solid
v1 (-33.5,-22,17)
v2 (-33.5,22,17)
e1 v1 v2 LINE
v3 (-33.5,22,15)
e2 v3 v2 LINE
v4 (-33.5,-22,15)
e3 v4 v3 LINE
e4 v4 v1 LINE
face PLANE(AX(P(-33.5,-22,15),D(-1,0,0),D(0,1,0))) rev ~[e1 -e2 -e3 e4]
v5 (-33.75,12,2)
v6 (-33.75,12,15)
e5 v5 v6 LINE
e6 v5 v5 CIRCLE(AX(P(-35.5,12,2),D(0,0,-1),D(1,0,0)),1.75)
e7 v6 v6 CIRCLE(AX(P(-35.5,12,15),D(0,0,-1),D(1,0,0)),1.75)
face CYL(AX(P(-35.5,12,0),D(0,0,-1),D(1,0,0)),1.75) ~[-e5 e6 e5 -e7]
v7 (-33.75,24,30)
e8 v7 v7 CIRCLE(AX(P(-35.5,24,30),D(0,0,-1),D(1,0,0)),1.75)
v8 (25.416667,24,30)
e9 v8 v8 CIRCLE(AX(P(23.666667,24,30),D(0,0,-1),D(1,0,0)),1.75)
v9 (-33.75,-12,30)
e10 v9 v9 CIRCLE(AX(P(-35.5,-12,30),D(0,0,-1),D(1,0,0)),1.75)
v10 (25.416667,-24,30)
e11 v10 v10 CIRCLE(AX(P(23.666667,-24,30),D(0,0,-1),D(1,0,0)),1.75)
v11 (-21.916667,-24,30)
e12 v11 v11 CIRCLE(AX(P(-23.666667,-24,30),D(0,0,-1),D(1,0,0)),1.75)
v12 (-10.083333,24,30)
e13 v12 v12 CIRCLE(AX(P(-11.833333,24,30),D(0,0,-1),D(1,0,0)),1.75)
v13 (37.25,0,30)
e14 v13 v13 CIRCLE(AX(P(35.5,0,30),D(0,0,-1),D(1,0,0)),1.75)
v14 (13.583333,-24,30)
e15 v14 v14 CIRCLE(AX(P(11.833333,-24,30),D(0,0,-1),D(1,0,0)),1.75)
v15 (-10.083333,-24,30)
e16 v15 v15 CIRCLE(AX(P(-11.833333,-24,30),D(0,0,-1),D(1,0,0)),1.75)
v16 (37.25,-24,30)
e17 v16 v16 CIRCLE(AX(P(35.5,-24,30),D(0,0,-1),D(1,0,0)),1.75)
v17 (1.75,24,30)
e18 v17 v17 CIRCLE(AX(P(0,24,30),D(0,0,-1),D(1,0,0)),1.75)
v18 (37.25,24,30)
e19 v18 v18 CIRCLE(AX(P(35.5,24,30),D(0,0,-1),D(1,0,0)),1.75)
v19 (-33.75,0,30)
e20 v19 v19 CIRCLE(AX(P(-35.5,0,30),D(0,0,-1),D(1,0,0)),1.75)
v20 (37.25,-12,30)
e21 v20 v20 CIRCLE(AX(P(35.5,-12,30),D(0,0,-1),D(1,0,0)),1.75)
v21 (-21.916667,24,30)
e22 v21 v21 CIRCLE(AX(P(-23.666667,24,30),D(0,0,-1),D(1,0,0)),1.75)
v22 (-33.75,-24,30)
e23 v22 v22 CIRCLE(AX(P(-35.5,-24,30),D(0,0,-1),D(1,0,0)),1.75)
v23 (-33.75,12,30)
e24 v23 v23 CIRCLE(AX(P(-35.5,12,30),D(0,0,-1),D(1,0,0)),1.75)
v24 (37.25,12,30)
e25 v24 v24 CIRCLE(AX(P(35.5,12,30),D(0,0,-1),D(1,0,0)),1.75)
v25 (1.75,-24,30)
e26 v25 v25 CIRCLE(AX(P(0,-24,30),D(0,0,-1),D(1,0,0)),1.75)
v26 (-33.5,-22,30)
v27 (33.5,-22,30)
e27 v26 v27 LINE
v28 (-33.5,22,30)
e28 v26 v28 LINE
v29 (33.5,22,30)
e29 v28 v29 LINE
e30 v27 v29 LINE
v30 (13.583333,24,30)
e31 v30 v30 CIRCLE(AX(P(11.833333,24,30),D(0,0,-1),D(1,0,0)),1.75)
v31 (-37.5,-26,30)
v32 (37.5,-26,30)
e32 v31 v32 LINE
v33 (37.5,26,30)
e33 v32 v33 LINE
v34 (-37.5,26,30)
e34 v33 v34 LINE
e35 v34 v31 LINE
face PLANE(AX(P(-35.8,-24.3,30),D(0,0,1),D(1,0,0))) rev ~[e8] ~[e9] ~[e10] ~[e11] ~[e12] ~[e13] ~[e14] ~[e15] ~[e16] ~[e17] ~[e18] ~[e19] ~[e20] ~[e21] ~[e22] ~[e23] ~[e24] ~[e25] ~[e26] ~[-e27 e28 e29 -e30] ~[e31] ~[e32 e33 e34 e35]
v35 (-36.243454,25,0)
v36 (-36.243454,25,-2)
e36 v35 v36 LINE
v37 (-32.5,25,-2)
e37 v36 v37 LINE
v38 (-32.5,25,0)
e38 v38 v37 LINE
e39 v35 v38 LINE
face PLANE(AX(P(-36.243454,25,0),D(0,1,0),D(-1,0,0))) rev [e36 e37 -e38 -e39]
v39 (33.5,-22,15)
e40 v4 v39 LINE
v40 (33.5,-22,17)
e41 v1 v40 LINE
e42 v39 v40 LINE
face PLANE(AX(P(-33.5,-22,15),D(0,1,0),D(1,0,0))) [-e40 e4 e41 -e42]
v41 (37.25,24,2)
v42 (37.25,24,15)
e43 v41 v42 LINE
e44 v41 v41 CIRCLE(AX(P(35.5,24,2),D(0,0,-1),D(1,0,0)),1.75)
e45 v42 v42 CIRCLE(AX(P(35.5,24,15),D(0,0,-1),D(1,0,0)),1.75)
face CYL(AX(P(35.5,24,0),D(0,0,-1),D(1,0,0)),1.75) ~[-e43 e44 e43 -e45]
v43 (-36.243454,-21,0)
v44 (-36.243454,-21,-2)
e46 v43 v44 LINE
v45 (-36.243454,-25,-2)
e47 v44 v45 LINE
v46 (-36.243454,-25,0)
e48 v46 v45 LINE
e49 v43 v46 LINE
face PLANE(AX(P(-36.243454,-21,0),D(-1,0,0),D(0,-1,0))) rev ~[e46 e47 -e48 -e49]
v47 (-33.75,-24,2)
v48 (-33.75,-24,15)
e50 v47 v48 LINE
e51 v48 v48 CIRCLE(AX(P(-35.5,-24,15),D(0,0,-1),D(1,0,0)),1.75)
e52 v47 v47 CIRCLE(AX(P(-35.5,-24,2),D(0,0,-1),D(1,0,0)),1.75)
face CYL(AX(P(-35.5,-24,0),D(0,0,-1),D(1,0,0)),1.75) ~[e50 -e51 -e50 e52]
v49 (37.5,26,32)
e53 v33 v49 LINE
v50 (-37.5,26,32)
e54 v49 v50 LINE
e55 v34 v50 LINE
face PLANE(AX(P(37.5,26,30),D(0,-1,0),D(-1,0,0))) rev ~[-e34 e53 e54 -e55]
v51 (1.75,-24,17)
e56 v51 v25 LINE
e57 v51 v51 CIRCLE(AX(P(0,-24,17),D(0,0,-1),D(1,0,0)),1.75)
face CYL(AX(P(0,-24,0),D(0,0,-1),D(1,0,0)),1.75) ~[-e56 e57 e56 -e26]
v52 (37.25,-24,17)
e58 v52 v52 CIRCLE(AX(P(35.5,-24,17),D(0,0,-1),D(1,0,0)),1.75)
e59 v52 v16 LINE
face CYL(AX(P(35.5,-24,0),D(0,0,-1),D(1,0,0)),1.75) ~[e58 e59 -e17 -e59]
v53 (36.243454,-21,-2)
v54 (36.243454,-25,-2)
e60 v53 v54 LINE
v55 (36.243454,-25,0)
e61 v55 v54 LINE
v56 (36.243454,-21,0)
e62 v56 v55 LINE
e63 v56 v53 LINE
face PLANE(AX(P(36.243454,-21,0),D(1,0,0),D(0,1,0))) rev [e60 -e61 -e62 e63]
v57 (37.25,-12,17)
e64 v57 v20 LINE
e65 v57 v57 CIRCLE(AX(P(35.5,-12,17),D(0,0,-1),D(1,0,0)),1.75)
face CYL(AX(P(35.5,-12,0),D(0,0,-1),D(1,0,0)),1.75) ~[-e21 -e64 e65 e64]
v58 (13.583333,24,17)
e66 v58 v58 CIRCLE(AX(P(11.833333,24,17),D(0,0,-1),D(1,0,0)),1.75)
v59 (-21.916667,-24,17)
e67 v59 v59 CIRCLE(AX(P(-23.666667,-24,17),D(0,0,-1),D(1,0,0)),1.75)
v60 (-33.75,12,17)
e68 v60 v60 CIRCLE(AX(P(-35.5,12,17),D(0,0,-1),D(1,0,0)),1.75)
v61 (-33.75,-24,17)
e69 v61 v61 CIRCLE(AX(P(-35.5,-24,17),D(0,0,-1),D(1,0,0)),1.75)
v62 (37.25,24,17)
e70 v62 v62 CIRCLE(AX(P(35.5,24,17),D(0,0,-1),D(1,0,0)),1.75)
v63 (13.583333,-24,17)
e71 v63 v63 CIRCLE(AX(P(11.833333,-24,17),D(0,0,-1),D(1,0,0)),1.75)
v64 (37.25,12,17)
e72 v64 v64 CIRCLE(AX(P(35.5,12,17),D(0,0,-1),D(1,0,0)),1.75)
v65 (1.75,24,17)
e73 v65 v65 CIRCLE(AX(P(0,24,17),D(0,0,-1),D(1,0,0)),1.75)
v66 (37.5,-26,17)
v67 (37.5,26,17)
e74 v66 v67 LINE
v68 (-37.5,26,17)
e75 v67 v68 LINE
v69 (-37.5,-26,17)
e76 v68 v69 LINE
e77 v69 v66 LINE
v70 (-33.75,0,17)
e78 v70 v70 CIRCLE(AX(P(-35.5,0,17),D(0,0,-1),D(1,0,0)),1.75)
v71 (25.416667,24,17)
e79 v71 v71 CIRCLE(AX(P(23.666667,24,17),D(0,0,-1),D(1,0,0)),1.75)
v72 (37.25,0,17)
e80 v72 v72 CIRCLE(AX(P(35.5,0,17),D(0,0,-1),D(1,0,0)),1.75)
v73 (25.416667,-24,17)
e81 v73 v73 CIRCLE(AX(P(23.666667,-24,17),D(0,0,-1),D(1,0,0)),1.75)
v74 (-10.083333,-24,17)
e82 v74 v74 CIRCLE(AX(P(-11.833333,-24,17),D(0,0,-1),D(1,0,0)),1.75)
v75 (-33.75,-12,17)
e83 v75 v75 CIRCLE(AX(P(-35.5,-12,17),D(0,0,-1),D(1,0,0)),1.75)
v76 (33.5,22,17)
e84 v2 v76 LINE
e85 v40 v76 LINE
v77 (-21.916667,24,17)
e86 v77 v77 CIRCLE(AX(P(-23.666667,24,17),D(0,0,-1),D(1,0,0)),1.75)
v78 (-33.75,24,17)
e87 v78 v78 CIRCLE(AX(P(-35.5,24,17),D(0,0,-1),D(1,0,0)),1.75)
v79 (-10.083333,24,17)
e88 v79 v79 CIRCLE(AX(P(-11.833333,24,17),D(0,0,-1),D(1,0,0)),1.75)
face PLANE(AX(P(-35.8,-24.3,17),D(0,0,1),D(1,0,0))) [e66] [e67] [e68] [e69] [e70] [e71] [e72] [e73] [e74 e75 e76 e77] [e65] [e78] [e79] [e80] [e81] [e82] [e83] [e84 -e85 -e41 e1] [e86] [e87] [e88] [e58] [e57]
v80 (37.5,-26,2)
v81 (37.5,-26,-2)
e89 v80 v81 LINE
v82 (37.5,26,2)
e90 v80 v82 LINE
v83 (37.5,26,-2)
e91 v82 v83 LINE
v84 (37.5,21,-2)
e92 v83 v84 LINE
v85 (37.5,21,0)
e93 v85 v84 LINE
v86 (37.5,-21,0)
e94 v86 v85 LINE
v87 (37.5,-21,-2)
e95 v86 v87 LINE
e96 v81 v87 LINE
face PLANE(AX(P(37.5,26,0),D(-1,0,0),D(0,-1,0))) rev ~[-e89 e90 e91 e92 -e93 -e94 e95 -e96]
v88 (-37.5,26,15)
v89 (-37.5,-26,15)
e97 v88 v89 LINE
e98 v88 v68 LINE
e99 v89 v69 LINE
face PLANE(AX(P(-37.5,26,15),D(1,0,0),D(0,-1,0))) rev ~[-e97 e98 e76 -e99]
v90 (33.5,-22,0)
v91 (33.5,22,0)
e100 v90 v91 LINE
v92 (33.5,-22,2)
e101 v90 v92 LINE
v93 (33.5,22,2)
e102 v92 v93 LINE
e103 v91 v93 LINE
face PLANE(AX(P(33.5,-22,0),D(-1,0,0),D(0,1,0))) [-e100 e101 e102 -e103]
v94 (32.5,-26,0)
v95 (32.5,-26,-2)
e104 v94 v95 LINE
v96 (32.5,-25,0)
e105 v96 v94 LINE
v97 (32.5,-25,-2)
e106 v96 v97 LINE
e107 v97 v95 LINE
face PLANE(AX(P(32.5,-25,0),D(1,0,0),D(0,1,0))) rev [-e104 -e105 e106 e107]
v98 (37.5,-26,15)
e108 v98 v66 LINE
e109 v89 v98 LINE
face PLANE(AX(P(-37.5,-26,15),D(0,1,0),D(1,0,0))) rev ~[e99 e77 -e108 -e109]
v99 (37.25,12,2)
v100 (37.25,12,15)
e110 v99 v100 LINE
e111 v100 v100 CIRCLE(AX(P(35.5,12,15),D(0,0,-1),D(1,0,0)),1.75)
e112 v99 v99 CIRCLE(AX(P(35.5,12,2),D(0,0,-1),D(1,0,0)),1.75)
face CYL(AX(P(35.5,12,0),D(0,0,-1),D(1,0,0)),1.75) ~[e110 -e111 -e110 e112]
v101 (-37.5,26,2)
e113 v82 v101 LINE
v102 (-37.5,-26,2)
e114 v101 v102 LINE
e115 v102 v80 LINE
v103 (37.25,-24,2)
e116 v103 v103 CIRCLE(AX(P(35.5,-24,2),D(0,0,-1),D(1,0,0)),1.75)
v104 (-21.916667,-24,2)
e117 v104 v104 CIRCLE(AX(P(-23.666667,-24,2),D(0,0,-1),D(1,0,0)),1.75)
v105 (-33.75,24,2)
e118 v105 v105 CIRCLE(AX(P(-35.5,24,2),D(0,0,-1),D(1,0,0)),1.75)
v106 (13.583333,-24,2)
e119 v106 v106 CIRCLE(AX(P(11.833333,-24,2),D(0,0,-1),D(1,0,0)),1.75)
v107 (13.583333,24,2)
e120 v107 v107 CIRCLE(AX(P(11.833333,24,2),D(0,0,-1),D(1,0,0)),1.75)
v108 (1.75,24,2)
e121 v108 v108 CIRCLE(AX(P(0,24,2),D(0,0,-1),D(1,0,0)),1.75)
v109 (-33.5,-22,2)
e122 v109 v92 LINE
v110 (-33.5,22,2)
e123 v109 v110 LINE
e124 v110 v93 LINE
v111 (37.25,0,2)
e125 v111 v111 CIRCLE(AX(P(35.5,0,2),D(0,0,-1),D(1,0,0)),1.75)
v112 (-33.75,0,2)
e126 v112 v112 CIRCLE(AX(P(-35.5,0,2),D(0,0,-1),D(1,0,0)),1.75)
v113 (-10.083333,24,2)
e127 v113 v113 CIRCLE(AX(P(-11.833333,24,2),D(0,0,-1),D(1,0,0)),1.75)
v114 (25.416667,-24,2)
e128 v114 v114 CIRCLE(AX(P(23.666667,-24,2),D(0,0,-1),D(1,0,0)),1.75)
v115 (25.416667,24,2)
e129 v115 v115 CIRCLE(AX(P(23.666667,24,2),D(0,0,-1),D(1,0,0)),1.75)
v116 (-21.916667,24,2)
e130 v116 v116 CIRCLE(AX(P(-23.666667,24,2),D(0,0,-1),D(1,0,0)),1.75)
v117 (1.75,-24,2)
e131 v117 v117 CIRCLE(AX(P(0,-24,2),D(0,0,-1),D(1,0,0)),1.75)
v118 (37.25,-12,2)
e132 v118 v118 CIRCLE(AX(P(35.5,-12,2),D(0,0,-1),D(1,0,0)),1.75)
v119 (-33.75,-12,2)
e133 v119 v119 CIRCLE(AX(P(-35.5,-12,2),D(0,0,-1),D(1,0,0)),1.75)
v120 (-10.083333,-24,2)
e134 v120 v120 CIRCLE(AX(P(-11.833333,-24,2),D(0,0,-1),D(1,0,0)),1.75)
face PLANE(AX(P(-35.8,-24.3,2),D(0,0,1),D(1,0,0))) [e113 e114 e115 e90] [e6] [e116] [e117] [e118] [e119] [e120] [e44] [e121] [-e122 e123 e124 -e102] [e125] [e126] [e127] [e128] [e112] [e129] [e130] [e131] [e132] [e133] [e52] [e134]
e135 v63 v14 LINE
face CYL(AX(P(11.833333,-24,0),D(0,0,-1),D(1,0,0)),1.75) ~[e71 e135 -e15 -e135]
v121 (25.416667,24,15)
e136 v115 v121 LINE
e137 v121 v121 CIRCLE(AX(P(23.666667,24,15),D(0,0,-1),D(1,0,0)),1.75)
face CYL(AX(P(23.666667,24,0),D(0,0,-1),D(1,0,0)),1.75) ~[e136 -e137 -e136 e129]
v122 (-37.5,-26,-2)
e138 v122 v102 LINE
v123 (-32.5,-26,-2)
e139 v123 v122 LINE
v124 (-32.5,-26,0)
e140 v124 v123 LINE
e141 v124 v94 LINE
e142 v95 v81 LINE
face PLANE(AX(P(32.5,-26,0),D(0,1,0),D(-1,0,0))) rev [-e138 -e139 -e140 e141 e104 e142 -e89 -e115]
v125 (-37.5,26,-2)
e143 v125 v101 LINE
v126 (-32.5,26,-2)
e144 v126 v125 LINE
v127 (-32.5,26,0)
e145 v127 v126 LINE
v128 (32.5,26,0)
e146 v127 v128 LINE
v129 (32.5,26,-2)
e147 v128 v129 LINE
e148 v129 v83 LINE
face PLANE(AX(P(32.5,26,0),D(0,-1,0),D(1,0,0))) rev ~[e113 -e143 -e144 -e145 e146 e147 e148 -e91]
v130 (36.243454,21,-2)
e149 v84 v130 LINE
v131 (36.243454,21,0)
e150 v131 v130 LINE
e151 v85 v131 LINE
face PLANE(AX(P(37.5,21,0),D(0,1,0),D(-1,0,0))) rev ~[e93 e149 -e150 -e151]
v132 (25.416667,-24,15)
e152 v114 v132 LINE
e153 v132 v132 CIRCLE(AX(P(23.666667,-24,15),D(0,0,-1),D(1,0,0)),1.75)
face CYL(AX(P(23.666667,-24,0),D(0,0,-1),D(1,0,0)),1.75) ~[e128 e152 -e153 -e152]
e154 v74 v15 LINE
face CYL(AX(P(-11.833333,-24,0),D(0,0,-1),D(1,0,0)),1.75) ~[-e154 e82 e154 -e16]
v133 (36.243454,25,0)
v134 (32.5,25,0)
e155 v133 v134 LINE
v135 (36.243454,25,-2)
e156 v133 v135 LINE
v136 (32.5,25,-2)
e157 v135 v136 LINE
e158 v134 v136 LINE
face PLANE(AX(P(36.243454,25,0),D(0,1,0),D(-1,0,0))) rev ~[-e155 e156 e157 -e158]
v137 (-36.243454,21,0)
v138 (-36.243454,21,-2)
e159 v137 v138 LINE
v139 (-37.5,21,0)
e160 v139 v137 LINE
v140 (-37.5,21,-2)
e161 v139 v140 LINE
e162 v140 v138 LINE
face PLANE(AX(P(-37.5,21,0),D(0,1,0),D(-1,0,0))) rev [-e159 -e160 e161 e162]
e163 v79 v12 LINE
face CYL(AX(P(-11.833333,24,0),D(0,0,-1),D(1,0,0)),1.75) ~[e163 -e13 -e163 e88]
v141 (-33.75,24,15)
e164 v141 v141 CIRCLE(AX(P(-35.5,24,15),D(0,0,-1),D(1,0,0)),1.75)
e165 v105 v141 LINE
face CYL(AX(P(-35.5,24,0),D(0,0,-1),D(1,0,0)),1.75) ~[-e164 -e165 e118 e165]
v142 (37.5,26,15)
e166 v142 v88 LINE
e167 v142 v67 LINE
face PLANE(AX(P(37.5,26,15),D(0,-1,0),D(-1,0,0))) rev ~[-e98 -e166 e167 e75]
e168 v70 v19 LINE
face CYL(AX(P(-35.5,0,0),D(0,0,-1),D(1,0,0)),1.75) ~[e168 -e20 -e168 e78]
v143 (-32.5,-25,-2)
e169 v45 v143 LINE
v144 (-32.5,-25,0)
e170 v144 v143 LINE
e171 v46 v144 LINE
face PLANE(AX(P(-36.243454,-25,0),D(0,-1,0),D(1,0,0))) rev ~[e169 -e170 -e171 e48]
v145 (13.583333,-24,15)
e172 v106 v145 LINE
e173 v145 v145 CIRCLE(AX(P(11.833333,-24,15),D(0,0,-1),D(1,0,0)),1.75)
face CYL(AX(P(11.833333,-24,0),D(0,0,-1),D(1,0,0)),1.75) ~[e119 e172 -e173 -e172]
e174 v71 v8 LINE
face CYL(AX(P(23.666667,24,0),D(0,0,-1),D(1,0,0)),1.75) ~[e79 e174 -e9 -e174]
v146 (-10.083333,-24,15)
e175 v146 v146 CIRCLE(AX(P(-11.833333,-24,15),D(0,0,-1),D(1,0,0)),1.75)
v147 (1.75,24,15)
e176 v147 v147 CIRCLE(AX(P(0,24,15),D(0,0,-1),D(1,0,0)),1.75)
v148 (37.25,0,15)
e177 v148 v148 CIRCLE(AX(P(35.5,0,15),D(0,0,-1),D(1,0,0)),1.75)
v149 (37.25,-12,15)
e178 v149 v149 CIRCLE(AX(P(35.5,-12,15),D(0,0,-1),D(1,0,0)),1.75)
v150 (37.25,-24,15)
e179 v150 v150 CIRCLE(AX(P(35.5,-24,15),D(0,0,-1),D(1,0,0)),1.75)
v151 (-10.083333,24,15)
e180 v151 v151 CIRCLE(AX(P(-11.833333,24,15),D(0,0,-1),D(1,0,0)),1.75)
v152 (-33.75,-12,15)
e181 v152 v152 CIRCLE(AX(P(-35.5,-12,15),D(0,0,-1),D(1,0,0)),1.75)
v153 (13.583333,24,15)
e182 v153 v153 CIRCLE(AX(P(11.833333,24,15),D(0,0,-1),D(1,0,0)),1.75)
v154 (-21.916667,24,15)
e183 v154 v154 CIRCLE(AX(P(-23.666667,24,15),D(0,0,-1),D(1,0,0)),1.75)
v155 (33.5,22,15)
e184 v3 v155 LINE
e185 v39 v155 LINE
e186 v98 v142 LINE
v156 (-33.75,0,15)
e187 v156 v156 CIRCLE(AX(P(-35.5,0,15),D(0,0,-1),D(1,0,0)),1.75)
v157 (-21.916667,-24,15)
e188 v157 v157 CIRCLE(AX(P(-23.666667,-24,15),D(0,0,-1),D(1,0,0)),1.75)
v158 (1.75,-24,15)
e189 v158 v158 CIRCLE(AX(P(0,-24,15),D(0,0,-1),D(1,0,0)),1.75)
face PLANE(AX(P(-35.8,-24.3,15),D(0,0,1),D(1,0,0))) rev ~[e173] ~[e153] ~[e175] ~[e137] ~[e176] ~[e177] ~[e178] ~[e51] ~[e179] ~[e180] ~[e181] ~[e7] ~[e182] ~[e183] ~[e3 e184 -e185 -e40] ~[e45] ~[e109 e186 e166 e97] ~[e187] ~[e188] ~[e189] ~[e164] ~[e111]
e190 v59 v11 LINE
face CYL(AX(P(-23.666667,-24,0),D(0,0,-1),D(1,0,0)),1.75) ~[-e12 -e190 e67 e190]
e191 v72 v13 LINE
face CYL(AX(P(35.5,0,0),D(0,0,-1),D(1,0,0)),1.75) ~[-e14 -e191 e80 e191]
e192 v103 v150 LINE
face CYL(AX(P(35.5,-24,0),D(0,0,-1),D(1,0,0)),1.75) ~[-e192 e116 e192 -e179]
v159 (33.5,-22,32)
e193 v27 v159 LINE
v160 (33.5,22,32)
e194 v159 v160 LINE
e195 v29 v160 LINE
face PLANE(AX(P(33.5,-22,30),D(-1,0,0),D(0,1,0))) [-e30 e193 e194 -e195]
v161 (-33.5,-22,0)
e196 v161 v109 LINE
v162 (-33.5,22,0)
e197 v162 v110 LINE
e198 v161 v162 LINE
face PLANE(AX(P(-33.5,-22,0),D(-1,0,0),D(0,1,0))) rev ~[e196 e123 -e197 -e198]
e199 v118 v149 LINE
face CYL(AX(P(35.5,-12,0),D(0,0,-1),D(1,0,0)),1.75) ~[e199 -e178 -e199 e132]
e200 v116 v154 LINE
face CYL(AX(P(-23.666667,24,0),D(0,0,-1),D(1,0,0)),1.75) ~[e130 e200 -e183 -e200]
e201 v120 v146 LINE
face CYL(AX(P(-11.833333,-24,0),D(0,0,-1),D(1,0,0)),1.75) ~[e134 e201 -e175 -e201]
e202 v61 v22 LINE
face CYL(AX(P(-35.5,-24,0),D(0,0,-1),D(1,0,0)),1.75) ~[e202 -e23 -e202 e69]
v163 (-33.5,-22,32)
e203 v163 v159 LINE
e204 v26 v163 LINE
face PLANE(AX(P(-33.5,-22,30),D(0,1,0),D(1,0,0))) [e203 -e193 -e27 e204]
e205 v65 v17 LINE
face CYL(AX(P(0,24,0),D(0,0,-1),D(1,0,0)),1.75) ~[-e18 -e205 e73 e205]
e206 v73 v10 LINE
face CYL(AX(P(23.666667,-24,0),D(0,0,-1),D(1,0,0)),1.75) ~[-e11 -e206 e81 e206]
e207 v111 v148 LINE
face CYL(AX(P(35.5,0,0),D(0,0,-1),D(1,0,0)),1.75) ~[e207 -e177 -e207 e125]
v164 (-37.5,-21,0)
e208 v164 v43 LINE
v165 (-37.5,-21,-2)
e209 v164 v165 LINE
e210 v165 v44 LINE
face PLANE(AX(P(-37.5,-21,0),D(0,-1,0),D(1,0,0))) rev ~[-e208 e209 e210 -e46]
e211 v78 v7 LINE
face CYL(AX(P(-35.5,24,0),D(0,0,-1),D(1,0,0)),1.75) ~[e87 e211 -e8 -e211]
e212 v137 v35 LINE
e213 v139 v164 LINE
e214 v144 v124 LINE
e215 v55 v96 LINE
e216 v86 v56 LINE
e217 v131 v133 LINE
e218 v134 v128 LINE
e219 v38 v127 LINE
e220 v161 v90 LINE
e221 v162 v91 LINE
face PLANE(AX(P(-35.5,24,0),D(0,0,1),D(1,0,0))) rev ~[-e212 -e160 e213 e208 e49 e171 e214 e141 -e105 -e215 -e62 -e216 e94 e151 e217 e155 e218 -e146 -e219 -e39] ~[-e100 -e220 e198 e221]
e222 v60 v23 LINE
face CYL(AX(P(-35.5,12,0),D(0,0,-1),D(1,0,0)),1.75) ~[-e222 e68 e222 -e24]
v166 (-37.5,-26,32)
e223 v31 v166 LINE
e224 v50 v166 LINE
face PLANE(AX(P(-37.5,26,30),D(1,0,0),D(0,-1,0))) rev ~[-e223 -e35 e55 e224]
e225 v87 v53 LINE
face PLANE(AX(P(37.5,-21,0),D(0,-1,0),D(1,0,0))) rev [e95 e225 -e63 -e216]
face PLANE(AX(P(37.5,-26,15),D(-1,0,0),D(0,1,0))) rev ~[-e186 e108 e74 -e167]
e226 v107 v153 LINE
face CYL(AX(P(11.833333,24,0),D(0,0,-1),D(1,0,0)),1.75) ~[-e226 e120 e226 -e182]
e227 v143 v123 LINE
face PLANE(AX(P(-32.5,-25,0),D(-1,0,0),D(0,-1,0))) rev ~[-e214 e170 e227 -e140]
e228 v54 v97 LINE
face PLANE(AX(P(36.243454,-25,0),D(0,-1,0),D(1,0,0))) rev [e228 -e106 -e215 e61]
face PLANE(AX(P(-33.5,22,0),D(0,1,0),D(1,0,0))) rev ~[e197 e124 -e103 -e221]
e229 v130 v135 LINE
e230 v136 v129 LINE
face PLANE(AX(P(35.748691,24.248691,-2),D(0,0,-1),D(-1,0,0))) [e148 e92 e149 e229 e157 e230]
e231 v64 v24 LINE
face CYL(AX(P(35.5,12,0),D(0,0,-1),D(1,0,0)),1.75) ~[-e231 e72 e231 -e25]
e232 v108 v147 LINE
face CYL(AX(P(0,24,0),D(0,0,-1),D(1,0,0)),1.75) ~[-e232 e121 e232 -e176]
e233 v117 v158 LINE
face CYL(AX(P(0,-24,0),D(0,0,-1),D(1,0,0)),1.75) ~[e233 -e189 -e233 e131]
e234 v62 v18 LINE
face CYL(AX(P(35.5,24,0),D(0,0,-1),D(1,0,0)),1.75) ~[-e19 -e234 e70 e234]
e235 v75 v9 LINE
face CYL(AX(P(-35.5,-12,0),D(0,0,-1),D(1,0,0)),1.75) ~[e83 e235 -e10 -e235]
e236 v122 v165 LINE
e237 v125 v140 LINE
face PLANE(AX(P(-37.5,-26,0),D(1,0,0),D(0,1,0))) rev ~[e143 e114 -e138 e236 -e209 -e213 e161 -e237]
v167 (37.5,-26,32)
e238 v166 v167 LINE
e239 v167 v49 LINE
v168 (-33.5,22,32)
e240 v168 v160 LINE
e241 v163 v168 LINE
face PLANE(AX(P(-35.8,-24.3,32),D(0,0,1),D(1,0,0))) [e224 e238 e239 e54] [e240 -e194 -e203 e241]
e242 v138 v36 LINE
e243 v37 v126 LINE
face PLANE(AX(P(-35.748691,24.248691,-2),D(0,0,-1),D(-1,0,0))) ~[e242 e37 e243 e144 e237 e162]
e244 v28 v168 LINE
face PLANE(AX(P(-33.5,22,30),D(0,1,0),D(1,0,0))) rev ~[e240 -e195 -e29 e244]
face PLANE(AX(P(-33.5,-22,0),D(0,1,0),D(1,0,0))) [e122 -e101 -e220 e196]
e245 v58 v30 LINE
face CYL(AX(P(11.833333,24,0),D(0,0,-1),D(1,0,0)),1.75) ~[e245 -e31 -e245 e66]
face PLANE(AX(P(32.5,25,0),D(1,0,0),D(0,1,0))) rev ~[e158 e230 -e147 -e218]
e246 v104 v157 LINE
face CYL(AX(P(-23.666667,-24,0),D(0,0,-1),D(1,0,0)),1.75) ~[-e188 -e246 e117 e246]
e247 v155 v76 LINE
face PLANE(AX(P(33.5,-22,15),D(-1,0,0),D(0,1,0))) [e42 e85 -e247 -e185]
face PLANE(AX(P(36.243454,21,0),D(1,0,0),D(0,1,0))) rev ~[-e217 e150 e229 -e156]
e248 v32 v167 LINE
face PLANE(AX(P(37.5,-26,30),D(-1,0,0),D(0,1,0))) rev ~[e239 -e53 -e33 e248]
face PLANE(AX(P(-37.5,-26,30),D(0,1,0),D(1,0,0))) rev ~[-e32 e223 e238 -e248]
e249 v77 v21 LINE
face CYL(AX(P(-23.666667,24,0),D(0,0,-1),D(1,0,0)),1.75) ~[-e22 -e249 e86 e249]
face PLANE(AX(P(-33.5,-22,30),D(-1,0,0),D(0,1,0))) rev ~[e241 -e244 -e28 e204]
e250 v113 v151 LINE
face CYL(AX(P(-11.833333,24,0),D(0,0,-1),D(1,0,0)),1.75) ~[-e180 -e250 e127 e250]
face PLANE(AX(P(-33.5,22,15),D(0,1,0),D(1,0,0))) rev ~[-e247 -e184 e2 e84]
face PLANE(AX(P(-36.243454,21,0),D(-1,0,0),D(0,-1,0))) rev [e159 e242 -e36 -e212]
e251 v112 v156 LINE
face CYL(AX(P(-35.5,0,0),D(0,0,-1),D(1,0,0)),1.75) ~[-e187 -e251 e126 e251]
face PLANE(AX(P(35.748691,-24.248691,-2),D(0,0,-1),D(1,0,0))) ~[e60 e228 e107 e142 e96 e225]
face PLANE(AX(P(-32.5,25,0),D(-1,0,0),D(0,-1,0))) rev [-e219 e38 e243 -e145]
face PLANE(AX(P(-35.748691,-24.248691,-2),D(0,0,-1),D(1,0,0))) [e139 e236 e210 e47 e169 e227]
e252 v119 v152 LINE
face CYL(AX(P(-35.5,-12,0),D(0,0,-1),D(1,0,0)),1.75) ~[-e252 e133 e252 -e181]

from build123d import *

# Parameters (mm, degrees)
F0_W     = 67
F0_H     = 44
F1_DEPTH = 2
F4_R     = 1.75
F5_DEPTH = 30
F7_DEPTH = 2


with BuildPart() as f1:
    # F0 (on Top) → F1 (new body)
    with BuildSketch(Plane.XY):
        Polygon((-37.5, -21), (-37.5, -26), (-32.5, -26), (-32.5, -25), (-36.5, -25), (-36.5, -21), align=None)
        Polygon((-32.5, -25), (-32.5, -26), (32.5, -26), (32.5, -25), (36.5, -25), (36.5, -21), (37.5, -21), (37.5, 21), (36.5, 21), (36.5, 25), (32.5, 25), (32.5, 26), (-32.5, 26), (-32.5, 25), (-36.5, 25), (-36.5, 21), (-37.5, 21), (-37.5, -21), (-36.5, -21), (-36.5, -25), align=None)
        Rectangle(F0_W, F0_H, mode=Mode.SUBTRACT)
        Polygon((32.5, -25), (32.5, -26), (37.5, -26), (37.5, -21), (36.5, -21), (36.5, -25), align=None)
        Polygon((-37.5, 25), (-37.5, 21), (-36.5, 21), (-36.5, 25), (-32.5, 25), (-32.5, 26), (-36.5, 26), (-37.5, 26), align=None)
        Polygon((36.5, 21), (37.5, 21), (37.5, 25), (37.5, 26), (36.5, 26), (32.5, 26), (32.5, 25), (36.5, 25), align=None)
    extrude(amount=F1_DEPTH)


with BuildPart() as f2_1:
    # F2: copy of F1
    add(f1.part.moved(Location((0, 0, 30))))


with BuildPart() as f3_1:
    # F3: copy of F1
    add(f1.part.moved(Location((0, 0, 15))))


with BuildPart() as f1_1:
    add(f1.part)

    add(f2_1.part)  # F5 merges F2_1

    add(f3_1.part)  # F5 merges F3_1
    # F4 (on Top) → F5 (join)
    with BuildSketch(Plane.XY):
        with Locations((-35.5, 24)):
            Circle(F4_R)
        with Locations((-23.6666666667, 24)):
            Circle(F4_R)
        with Locations((-11.8333333333, 24)):
            Circle(F4_R)
        with Locations((0, 24)):
            Circle(F4_R)
        with Locations((11.8333333333, 24)):
            Circle(F4_R)
        with Locations((23.6666666667, 24)):
            Circle(F4_R)
        with Locations((35.5, 24)):
            Circle(F4_R)
        with Locations((-35.5, 12)):
            Circle(F4_R)
        with Locations((-35.5, 0)):
            Circle(F4_R)
        with Locations((-35.5, -12)):
            Circle(F4_R)
        with Locations((-35.5, -24)):
            Circle(F4_R)
        with Locations((35.5, 12)):
            Circle(F4_R)
        with Locations((35.5, 0)):
            Circle(F4_R)
        with Locations((35.5, -12)):
            Circle(F4_R)
        with Locations((35.5, -24)):
            Circle(F4_R)
        with Locations((-23.6666666667, -24)):
            Circle(F4_R)
        with Locations((-11.8333333333, -24)):
            Circle(F4_R)
        with Locations((0, -24)):
            Circle(F4_R)
        with Locations((11.8333333333, -24)):
            Circle(F4_R)
        with Locations((23.6666666667, -24)):
            Circle(F4_R)
    extrude(amount=F5_DEPTH)

    # F6 (on face) → F7 (join)
    with BuildSketch(Plane(origin=(0, 0, 0), x_dir=(1, 0, 0), z_dir=(0, 0, -1))):
        Polygon((-32.5, 26), (-37.5, 26), (-37.5, 21), (-36.2434542816, 21), (-36.2434542816, 25), (-32.5, 25), align=None)
    extrude(amount=F7_DEPTH)

    # F8: F1 across plane


with BuildPart() as f1_2:
    add(f1_1.part)
    add(f1_1.part.mirror(Plane.YZ))

    # F9: F1 across plane


with BuildPart() as f1_3:
    add(f1_2.part)
    add(f1_2.part.mirror(Plane.XZ))


solid = f1_3.part
